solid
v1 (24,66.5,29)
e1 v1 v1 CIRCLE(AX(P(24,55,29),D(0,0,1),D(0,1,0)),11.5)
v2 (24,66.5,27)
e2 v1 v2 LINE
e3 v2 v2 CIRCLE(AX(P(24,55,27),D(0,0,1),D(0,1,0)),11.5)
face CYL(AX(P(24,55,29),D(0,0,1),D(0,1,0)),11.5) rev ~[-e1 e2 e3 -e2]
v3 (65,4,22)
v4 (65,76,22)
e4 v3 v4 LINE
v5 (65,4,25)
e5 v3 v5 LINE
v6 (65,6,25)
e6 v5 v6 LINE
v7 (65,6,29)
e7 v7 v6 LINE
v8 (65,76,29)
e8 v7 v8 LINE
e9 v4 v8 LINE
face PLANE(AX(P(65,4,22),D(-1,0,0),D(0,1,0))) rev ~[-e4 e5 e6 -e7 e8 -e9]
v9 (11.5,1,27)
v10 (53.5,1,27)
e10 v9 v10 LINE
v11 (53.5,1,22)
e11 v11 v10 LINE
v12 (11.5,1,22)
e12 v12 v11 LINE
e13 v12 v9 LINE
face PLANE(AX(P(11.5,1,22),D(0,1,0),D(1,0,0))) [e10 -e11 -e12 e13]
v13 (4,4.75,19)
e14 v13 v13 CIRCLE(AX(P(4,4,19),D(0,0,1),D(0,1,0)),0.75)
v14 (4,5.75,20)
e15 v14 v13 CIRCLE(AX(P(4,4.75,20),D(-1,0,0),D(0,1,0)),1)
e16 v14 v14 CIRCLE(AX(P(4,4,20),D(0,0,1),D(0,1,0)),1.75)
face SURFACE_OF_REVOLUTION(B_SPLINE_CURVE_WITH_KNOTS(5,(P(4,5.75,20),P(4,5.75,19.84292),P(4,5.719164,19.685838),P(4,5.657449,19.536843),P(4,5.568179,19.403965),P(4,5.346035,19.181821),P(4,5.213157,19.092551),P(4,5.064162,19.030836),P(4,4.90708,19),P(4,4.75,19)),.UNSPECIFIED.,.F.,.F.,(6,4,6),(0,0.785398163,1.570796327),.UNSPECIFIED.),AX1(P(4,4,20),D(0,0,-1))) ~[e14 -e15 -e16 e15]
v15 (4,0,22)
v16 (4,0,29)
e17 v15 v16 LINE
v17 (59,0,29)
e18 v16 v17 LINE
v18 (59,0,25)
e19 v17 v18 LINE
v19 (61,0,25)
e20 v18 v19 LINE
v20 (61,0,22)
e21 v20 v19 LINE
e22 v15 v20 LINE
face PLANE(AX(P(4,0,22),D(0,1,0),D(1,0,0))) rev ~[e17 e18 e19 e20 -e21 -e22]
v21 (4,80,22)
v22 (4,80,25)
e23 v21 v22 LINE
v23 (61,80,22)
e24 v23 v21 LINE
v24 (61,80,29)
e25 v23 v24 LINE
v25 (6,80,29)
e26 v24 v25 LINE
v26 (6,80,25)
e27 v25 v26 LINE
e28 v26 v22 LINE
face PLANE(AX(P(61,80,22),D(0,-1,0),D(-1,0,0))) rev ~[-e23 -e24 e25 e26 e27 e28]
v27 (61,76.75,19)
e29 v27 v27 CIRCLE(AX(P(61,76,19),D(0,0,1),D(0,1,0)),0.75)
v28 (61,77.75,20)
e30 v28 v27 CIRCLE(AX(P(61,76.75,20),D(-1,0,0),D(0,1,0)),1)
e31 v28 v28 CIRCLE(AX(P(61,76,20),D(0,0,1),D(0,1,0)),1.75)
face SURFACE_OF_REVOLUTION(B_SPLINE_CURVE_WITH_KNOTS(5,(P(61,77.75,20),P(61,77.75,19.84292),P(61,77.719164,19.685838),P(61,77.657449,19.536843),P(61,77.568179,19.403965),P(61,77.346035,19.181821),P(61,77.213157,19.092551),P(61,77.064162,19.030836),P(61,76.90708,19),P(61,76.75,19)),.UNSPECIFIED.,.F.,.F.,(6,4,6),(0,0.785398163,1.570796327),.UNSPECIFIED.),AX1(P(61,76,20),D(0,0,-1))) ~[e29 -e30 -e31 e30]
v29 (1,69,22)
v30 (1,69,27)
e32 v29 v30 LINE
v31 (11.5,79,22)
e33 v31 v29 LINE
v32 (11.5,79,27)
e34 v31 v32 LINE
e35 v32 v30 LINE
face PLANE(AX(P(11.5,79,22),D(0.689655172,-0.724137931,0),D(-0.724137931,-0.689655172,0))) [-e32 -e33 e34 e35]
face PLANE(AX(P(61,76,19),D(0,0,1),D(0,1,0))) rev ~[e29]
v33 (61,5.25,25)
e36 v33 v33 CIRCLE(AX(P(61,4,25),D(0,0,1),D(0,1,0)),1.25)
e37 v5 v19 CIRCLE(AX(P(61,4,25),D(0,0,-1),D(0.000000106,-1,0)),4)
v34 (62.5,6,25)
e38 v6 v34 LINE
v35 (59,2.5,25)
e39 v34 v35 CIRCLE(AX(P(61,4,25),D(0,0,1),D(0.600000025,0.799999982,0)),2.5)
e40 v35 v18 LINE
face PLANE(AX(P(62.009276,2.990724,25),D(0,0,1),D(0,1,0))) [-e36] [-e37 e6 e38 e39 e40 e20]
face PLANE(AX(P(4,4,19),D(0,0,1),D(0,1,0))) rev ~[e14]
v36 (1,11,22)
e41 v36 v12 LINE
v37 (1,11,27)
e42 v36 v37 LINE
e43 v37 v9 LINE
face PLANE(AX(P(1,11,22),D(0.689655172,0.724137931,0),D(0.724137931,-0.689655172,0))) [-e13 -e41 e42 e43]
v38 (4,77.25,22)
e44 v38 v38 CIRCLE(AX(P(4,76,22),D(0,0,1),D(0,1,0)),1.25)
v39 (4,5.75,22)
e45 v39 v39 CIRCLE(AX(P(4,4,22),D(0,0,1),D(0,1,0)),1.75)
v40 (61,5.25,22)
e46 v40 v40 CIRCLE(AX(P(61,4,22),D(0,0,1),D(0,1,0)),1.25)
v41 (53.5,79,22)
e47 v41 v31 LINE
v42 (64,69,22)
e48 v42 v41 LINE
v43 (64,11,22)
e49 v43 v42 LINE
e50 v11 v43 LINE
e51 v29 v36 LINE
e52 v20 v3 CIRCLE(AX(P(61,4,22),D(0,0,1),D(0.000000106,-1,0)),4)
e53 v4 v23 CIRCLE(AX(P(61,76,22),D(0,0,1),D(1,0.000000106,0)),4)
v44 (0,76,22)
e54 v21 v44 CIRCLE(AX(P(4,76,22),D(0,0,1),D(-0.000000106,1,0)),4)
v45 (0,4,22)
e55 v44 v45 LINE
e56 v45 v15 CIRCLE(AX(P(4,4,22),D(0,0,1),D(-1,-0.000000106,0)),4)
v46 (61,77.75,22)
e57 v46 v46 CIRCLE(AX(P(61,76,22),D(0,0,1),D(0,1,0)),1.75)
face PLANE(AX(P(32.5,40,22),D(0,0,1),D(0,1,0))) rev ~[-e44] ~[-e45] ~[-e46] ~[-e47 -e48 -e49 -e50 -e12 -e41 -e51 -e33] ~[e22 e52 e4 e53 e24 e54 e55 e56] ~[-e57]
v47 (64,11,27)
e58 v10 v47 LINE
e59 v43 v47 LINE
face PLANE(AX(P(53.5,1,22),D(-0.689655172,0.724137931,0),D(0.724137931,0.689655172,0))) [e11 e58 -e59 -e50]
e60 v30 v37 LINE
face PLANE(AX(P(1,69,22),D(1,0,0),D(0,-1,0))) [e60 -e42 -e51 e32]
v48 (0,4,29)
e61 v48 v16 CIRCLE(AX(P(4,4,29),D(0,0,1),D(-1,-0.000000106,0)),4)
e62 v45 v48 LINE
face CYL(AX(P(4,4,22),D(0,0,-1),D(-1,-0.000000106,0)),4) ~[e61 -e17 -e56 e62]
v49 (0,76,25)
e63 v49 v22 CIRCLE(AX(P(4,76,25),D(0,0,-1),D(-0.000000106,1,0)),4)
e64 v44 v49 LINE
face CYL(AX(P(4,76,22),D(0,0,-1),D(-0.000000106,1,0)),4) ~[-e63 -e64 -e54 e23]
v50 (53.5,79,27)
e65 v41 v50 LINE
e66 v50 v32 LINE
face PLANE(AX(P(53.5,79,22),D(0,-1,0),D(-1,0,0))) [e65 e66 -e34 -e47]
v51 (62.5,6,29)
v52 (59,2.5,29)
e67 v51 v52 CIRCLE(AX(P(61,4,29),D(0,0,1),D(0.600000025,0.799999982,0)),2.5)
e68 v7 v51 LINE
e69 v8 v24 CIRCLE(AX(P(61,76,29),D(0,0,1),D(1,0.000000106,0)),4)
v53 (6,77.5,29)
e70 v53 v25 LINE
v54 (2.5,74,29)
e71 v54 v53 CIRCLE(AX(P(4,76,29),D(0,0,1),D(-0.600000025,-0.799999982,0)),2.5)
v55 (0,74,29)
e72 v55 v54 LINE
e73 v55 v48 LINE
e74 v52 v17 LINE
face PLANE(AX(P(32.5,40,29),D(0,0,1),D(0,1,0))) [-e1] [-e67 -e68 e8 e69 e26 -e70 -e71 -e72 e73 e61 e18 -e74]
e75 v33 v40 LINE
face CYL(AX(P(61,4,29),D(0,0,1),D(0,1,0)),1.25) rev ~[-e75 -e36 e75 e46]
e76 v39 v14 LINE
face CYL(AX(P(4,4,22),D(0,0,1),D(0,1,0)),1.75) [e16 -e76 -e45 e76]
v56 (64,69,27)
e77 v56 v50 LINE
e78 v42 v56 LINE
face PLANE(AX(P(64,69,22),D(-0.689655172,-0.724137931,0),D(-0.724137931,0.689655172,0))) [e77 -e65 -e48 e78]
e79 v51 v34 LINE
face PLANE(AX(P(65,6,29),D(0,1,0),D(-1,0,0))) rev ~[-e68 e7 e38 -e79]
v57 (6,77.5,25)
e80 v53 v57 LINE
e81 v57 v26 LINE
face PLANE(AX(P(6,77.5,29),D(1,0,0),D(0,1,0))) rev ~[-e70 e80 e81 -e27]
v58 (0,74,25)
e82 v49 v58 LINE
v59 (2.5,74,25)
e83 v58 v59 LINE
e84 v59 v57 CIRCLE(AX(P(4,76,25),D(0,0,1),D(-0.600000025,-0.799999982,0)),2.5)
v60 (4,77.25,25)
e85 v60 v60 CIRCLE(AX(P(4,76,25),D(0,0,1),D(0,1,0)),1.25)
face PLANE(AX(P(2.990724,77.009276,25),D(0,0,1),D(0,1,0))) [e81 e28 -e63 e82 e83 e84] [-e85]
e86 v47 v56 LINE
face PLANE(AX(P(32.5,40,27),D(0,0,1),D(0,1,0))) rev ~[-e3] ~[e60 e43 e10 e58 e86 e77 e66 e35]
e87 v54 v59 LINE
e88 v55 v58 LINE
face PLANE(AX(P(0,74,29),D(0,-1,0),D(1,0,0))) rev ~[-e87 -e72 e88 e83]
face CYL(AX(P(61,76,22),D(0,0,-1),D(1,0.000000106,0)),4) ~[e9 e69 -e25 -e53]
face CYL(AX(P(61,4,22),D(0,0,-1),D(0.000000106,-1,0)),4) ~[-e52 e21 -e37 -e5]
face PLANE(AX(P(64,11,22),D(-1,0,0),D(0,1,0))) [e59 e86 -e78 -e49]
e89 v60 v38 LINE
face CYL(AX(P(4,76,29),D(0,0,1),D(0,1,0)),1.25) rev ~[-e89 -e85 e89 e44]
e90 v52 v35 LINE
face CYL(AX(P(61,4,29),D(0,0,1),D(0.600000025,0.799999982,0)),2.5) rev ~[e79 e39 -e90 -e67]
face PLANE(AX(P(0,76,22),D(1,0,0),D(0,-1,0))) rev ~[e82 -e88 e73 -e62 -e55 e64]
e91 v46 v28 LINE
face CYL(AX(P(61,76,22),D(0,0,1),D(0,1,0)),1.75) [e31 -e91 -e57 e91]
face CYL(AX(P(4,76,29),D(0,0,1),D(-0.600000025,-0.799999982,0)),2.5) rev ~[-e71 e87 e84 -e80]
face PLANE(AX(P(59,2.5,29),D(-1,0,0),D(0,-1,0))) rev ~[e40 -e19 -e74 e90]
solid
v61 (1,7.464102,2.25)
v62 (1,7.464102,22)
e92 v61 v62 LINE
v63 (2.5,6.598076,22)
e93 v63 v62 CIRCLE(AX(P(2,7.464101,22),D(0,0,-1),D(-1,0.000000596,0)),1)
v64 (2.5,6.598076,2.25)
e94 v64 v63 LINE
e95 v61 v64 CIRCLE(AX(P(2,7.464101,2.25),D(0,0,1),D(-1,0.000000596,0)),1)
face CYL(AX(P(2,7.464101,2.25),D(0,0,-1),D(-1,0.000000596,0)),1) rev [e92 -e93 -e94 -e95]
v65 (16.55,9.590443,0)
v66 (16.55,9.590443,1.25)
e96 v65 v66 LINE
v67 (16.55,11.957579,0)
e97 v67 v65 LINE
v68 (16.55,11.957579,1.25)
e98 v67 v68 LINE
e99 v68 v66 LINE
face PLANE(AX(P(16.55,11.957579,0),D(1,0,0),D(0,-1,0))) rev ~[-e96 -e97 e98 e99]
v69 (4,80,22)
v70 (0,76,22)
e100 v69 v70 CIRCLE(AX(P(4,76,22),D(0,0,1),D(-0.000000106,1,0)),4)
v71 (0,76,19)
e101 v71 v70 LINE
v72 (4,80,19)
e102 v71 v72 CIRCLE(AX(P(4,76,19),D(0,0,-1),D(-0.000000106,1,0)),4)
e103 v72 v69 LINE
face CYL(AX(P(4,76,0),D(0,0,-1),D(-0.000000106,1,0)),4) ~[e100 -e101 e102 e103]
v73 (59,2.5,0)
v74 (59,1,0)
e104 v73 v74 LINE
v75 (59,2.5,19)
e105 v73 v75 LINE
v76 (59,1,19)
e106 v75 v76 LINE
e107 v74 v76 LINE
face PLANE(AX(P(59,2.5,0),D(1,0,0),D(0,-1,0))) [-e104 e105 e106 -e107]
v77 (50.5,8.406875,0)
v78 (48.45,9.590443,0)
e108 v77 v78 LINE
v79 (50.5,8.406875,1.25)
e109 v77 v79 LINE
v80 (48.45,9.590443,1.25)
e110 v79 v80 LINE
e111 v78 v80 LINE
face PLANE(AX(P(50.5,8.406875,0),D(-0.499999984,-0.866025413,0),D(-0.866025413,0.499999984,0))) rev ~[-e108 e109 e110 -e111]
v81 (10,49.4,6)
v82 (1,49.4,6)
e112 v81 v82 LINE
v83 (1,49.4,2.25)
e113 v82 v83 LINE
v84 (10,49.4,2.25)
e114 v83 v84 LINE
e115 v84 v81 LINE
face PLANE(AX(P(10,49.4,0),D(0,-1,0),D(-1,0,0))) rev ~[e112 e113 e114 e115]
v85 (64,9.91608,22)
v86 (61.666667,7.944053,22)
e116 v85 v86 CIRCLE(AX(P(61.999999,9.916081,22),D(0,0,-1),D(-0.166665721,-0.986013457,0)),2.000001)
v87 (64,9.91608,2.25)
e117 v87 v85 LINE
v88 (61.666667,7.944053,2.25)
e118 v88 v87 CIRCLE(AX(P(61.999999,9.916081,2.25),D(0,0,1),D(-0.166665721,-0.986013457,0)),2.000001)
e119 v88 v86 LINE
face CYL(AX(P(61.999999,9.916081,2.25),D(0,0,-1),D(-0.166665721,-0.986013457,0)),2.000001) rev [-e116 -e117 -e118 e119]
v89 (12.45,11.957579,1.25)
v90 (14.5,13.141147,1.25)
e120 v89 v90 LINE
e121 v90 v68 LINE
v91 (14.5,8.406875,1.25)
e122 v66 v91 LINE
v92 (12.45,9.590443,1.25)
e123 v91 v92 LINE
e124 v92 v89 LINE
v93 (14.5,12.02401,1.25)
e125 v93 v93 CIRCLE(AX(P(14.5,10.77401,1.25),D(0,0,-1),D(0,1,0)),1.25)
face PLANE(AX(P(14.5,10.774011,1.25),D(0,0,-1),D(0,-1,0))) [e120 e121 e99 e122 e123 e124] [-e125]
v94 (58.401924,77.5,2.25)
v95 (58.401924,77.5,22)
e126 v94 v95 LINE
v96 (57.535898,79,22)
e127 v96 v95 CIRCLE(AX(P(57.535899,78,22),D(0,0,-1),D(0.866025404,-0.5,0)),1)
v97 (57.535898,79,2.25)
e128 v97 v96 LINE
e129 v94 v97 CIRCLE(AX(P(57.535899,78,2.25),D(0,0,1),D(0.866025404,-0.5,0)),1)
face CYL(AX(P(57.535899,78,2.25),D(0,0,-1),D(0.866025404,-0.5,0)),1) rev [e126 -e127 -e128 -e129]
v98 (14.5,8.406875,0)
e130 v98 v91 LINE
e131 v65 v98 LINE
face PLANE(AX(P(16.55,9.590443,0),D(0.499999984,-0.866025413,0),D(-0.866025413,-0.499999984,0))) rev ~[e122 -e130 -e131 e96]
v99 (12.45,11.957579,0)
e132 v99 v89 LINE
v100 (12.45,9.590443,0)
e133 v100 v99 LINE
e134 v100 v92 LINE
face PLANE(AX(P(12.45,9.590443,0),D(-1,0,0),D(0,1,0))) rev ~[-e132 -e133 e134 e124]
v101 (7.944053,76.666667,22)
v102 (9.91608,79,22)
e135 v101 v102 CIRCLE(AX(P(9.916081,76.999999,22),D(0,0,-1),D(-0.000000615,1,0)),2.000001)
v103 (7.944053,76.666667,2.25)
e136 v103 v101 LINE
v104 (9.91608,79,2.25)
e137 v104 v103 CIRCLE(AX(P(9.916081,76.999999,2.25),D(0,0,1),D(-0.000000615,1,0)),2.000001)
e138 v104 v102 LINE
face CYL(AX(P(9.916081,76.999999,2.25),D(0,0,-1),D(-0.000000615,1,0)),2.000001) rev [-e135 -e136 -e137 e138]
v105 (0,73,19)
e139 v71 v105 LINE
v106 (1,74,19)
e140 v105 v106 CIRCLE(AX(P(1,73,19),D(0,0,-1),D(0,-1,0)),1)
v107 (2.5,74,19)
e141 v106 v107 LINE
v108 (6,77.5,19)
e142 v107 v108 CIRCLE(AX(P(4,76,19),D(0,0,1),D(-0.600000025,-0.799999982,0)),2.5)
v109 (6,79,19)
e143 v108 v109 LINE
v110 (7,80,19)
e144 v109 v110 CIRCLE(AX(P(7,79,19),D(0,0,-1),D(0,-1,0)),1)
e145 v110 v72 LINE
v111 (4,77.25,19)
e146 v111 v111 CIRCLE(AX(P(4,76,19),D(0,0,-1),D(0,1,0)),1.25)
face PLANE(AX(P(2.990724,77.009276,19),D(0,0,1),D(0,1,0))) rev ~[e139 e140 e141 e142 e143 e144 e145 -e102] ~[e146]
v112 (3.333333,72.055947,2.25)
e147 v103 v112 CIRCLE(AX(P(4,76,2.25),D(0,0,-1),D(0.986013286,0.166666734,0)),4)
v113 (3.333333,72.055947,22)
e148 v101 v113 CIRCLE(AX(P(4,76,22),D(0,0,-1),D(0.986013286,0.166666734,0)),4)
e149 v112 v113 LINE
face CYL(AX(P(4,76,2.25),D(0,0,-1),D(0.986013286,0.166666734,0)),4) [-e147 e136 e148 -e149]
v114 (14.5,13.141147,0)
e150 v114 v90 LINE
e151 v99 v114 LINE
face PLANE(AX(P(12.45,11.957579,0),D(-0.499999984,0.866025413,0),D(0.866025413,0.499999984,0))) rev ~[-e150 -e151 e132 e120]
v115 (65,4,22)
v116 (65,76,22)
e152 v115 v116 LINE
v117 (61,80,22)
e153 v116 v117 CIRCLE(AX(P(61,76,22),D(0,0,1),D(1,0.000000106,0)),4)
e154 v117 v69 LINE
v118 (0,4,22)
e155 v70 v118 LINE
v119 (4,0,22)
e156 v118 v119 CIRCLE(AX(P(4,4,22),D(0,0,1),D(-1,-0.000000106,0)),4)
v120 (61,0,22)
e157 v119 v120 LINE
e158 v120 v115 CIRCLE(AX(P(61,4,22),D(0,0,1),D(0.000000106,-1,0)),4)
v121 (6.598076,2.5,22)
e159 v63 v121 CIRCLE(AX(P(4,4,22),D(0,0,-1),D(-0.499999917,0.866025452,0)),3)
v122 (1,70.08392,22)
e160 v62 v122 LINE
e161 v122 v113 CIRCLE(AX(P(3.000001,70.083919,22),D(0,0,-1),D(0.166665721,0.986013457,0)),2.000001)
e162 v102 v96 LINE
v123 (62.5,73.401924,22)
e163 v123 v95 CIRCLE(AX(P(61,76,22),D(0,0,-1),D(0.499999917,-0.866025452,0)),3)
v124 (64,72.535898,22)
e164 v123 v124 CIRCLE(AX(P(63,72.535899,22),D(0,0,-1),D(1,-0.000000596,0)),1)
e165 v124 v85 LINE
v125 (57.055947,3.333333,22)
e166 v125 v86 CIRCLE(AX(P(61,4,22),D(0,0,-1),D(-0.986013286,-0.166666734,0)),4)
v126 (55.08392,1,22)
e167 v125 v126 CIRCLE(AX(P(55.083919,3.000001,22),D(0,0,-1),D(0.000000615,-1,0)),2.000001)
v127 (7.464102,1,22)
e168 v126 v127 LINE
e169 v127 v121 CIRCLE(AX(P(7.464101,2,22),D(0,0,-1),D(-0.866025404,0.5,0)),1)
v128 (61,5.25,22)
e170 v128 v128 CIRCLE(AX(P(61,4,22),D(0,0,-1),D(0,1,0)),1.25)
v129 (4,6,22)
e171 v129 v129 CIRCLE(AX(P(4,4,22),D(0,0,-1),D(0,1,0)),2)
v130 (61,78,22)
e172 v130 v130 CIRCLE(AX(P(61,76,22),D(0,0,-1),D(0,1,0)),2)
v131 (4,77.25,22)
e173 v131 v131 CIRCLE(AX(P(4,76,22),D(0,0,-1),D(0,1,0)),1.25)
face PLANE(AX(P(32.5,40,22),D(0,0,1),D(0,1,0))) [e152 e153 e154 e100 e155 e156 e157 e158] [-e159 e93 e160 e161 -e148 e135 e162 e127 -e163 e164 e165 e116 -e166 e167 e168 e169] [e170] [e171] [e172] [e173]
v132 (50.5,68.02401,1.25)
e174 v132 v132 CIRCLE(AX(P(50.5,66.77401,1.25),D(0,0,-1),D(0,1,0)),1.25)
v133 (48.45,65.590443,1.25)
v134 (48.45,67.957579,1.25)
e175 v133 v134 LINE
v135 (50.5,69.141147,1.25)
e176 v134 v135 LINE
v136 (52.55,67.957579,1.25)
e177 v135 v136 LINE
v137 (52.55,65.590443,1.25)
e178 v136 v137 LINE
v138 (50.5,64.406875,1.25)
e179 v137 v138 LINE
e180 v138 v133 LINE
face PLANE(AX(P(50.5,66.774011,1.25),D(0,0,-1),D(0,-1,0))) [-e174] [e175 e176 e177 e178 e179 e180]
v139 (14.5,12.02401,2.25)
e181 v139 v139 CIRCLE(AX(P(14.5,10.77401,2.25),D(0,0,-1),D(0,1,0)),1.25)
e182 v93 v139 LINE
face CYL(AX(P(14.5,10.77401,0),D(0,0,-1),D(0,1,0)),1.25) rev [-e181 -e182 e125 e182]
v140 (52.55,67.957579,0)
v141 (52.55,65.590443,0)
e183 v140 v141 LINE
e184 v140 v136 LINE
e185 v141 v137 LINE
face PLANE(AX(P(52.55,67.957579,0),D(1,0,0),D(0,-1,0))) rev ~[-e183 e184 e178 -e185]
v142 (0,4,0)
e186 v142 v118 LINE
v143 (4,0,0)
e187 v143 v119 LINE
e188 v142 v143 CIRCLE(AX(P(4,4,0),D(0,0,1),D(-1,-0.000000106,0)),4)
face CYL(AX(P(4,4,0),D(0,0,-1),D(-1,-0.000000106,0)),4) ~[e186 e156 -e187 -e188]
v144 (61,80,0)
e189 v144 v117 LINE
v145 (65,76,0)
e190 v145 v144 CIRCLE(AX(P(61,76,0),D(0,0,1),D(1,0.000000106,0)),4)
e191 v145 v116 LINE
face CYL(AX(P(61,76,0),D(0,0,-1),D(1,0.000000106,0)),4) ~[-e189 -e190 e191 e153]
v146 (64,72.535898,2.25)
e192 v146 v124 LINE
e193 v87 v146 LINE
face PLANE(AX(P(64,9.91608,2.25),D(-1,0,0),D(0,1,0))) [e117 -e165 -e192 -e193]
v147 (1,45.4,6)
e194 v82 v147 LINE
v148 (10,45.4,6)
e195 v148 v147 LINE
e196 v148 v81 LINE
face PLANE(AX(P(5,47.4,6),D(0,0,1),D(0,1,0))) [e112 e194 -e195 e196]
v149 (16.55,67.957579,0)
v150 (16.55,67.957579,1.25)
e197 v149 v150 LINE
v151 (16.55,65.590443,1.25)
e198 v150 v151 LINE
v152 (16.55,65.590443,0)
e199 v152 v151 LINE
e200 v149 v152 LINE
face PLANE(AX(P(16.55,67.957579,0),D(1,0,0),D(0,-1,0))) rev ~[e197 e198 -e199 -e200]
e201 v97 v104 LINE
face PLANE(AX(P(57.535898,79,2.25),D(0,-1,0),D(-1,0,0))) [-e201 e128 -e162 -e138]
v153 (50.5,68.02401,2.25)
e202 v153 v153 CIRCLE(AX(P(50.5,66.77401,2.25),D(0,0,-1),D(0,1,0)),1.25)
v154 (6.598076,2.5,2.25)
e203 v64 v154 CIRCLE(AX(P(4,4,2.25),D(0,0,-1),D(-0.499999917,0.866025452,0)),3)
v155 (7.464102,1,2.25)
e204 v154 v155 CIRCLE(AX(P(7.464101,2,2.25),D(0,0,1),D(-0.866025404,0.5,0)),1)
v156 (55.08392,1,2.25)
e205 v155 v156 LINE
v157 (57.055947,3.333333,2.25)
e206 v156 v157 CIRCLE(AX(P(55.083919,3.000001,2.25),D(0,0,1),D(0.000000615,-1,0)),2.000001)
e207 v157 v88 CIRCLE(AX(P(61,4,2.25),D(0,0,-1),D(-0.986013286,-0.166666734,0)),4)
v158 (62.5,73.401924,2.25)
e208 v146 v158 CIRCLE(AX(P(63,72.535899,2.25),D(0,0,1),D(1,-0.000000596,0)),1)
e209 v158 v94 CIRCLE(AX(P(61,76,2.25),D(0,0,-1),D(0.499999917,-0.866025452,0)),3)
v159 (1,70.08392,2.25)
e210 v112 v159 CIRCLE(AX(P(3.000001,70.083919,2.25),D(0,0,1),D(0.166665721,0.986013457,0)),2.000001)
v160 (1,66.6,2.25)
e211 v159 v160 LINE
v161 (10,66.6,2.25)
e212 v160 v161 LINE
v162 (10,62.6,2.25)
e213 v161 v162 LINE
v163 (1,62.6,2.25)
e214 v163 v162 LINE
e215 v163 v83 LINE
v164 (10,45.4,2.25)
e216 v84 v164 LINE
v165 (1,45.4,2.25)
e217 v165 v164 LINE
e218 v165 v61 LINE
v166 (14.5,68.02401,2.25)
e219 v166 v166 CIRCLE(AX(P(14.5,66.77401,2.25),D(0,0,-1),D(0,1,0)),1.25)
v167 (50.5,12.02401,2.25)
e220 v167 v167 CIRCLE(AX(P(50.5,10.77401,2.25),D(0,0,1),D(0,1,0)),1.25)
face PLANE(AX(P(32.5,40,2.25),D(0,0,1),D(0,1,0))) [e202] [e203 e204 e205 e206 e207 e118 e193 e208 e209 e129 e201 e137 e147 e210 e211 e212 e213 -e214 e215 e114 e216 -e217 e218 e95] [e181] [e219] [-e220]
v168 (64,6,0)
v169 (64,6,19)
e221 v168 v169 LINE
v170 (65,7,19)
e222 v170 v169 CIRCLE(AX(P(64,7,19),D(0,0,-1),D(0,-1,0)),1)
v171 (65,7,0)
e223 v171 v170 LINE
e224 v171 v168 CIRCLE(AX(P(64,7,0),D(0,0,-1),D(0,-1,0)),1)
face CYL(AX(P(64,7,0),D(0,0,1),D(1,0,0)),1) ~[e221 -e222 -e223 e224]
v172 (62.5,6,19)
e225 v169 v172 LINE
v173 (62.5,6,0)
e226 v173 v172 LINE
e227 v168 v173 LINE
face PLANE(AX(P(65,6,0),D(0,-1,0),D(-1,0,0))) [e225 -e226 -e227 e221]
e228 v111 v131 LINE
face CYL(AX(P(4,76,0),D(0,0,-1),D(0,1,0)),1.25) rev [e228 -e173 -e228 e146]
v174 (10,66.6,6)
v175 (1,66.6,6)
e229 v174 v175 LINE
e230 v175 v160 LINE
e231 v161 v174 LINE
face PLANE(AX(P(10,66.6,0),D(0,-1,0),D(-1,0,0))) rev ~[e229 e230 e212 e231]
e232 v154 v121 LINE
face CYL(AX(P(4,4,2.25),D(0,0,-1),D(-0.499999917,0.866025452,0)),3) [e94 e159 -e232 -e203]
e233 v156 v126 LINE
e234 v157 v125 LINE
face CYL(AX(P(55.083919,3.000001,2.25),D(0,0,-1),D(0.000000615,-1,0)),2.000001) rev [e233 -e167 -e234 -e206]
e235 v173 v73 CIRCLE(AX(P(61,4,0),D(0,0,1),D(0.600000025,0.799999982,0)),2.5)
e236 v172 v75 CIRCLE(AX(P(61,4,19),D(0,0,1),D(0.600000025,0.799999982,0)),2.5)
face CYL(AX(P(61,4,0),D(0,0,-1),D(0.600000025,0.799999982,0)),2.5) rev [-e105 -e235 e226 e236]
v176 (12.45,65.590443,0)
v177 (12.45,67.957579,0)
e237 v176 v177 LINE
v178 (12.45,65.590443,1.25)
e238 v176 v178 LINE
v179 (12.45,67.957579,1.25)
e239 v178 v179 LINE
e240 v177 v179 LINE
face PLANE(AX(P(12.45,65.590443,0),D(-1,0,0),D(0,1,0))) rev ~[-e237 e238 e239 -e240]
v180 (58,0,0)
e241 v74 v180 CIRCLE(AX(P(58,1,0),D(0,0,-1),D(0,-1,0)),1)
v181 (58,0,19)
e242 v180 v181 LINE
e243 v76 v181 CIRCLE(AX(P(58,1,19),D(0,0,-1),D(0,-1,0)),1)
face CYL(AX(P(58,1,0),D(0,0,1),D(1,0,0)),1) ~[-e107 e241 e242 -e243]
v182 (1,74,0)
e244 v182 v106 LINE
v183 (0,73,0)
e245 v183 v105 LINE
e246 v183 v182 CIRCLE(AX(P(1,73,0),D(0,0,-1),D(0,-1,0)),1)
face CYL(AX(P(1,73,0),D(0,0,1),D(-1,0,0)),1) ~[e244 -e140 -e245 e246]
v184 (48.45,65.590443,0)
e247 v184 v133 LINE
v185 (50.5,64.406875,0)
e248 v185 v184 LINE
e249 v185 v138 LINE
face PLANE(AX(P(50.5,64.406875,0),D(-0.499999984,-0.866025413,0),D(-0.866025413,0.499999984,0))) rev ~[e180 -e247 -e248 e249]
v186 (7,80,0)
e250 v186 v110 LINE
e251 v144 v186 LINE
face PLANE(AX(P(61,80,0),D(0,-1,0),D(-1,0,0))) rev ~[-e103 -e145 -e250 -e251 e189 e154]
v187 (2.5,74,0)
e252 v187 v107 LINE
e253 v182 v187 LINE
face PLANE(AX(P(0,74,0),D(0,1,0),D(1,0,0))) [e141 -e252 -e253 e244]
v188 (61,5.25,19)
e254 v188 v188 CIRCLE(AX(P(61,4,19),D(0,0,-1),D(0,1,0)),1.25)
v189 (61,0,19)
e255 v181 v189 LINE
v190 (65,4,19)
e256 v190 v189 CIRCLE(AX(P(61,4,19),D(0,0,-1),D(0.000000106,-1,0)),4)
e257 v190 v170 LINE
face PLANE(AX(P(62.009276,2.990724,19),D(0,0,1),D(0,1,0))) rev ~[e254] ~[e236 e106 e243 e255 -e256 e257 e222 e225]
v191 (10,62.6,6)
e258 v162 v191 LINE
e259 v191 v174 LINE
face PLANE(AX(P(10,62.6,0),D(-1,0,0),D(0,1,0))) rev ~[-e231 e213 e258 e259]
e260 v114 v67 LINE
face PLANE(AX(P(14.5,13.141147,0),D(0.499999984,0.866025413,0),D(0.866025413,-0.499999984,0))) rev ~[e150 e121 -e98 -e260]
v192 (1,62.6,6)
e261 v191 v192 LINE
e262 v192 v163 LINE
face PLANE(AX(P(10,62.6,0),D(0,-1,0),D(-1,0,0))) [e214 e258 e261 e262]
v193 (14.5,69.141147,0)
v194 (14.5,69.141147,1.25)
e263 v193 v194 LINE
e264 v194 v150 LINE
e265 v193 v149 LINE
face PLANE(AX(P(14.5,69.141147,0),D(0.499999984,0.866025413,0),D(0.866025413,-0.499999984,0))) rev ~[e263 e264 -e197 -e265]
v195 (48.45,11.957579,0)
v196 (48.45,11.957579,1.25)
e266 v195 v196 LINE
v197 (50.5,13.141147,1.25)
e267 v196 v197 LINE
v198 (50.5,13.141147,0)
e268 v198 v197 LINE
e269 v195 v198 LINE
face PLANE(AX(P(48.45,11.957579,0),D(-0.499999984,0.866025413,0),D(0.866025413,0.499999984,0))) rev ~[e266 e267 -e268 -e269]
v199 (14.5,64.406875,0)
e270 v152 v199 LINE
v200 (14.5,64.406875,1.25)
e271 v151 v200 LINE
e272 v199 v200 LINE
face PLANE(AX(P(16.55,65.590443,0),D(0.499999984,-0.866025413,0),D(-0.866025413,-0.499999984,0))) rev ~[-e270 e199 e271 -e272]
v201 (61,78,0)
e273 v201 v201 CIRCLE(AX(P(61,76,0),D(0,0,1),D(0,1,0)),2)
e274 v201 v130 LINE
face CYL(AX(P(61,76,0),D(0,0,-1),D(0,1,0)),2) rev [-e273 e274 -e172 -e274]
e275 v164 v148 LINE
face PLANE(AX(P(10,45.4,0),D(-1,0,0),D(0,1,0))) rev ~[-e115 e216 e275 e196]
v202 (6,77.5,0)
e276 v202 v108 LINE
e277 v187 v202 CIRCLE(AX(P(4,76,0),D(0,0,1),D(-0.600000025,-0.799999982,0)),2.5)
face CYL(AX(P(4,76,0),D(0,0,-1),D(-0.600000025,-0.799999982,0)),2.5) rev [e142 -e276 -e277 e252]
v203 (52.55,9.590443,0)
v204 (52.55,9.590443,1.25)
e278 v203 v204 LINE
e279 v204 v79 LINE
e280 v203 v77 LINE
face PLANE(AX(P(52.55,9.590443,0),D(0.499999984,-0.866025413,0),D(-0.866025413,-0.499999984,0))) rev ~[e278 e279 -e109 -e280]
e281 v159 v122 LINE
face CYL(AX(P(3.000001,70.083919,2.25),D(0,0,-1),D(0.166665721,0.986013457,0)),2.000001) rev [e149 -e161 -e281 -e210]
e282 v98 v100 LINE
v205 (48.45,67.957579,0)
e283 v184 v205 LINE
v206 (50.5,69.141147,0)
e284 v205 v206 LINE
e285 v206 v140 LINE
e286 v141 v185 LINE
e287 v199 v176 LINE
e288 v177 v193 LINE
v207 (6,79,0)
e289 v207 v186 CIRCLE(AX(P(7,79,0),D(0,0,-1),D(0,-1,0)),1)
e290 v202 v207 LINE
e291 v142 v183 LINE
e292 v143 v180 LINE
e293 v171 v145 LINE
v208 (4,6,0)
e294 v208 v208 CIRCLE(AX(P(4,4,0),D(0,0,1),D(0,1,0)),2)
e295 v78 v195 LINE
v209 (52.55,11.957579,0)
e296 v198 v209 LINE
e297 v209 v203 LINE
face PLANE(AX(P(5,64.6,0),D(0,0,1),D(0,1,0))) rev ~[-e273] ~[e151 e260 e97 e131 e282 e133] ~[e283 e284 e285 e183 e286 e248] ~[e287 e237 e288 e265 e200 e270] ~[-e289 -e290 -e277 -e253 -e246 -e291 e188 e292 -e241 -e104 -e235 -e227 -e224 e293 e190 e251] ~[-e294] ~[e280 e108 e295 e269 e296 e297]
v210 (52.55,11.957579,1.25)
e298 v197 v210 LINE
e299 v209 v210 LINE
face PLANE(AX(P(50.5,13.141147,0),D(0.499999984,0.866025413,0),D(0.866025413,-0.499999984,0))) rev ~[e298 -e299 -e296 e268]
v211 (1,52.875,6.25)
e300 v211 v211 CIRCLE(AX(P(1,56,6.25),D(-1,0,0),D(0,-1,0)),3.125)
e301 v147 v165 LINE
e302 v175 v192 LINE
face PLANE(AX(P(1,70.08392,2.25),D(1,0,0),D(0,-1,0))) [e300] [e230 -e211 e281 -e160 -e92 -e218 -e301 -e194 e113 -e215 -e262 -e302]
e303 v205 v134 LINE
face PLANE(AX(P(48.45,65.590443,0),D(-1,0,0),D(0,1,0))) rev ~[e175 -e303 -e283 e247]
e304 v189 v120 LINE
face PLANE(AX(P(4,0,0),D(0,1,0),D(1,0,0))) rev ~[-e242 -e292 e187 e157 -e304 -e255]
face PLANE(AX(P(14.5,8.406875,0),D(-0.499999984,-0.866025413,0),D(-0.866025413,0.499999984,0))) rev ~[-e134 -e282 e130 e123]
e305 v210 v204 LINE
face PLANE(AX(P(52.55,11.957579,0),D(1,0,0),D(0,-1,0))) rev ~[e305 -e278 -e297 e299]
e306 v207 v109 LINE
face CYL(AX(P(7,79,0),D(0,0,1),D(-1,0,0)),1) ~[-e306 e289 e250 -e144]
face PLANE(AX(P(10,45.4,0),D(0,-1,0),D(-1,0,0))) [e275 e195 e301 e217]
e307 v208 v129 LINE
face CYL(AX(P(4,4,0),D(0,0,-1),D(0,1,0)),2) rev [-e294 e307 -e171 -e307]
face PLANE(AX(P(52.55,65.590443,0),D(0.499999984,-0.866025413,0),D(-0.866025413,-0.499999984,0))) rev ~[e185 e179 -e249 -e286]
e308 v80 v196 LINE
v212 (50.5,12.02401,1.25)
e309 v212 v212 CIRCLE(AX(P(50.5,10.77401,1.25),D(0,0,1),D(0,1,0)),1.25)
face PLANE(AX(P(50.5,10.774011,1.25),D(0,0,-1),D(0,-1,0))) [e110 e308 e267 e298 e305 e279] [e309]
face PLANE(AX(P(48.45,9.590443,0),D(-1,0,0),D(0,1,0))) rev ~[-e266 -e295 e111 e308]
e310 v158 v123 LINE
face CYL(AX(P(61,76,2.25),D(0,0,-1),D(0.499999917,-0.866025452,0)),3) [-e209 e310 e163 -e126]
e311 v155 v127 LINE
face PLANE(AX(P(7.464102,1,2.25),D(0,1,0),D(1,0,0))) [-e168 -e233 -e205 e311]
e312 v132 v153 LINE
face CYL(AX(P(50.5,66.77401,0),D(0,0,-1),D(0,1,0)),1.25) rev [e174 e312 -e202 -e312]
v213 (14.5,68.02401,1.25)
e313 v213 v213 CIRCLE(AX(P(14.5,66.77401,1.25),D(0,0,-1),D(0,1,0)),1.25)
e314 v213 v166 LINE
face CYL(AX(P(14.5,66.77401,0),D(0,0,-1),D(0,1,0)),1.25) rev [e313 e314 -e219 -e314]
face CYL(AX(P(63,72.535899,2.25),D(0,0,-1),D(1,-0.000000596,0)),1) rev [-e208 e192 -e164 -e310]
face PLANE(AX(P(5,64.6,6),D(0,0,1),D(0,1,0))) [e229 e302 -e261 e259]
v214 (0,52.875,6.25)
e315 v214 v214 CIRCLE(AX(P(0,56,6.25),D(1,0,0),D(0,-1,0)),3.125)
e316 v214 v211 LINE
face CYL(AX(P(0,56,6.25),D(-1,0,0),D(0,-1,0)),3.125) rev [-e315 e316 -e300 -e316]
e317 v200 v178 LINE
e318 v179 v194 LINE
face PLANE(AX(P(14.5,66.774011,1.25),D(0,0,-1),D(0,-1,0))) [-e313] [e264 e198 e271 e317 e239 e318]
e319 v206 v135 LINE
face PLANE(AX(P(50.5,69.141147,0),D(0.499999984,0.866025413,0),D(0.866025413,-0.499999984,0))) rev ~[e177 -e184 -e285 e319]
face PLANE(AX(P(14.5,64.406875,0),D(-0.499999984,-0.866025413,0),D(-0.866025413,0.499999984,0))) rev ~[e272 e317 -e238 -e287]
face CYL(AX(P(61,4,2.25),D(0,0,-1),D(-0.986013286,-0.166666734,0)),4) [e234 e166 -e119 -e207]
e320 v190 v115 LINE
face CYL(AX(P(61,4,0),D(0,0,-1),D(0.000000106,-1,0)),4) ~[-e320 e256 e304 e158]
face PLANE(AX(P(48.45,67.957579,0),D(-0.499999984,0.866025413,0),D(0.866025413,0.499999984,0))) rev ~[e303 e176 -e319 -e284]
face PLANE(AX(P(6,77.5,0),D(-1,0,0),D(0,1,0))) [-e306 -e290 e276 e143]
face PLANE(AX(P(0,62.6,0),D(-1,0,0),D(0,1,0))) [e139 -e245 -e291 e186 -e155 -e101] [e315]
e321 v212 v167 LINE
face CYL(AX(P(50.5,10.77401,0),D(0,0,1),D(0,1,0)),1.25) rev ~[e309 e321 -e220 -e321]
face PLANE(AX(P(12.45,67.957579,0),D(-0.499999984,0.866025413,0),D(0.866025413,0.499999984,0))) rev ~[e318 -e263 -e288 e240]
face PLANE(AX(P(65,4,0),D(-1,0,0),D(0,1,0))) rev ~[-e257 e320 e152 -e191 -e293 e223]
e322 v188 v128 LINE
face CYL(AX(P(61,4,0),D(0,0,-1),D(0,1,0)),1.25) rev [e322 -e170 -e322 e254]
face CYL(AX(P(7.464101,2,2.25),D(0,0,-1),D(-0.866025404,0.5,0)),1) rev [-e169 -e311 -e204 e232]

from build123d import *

# Parameters (mm, degrees)
PAD_DEPTH          = 22
POCKET_DEPTH       = 19.751
SHAPEBINDER002_R   = 1.25
POCKET001_DEPTH    = 2.5
SHAPEBINDER003_R   = 1.25
SHAPEBINDER003_R_2 = 2
POCKET002_DEPTH    = 22.001
POCKET003_DEPTH    = 1.25
SHAPEBINDER005_R   = 3.125
POCKET004_DEPTH    = 5
SHAPEBINDER006_W   = 4
SHAPEBINDER006_H   = 10
PAD001_DEPTH       = 6
POCKET005_DEPTH    = 19
FILLET_R           = 1
PAD002_DEPTH       = 7
SHAPEBINDER009_R   = 1.75
PAD003_DEPTH       = 3
FILLET001_R        = 1
POCKET006_DEPTH    = 5
POCKET007_DEPTH    = 4
SHAPEBINDER012_R   = 11.5
POCKET008_DEPTH    = 5
SHAPEBINDER013_R   = 1.25
POCKET009_DEPTH    = 10.001


with BuildPart() as bottom_part:
    # ShapeBinder → Pad (new body)
    with BuildSketch(Plane(origin=(32.5, 40, 0), x_dir=(0, 1, 0), z_dir=(0, 0, 1))):
        with BuildLine():
            Line((-40, 28.5), (-40, -28.5))
            ThreePointArc((-40, -28.5), (-38.828427, -31.328427), (-36, -32.5))
            Line((-36, -32.5), (36, -32.5))
            ThreePointArc((36, -32.5), (38.828427, -31.328427), (40, -28.5))
            Line((40, -28.5), (40, 28.5))
            ThreePointArc((40, 28.5), (38.828427, 31.328427), (36, 32.5))
            Line((36, 32.5), (-36, 32.5))
            ThreePointArc((-36, 32.5), (-38.828427, 31.328427), (-40, 28.5))
        make_face()
    extrude(amount=PAD_DEPTH)

    # ShapeBinder001 → Pocket (cut, through all)
    with BuildSketch(Plane(origin=(32.5, 40, 2.25), x_dir=(0, 1, 0), z_dir=(0, 0, 1))):
        with BuildLine():
            ThreePointArc((32.055947, 29.166667), (31.611445, 30.790994), (30.08392, 31.5))
            Line((30.08392, 31.5), (-32.535898, 31.5))
            ThreePointArc((-32.535898, 31.5), (-33.401924, 31), (-33.401924, 30))
            ThreePointArc((-33.401924, 30), (-33.87868, 26.37868), (-37.5, 25.901924))
            ThreePointArc((-37.5, 25.901924), (-38.5, 25.901924), (-39, 25.035898))
            Line((-39, 25.035898), (-39, -22.58392))
            ThreePointArc((-39, -22.58392), (-38.290994, -24.111445), (-36.666667, -24.555947))
            ThreePointArc((-36.666667, -24.555947), (-33.171573, -25.671573), (-32.055947, -29.166667))
            ThreePointArc((-32.055947, -29.166667), (-31.611445, -30.790994), (-30.08392, -31.5))
            Line((-30.08392, -31.5), (32.535898, -31.5))
            ThreePointArc((32.535898, -31.5), (33.401924, -31), (33.401924, -30))
            ThreePointArc((33.401924, -30), (33.87868, -26.37868), (37.5, -25.901924))
            ThreePointArc((37.5, -25.901924), (38.5, -25.901924), (39, -25.035898))
            Line((39, -25.035898), (39, 22.58392))
            ThreePointArc((39, 22.58392), (38.290994, 24.111445), (36.666667, 24.555947))
            ThreePointArc((36.666667, 24.555947), (33.171573, 25.671573), (32.055947, 29.166667))
        make_face()
    extrude(amount=POCKET_DEPTH, mode=Mode.SUBTRACT)

    # ShapeBinder002 → Pocket001 (cut, symmetric)
    with BuildSketch(Plane(origin=(32.5, 44.762005, 0), x_dir=(0, 1, 0), z_dir=(0, 0, 1))):
        with Locations((22.012005, 18)):
            Circle(SHAPEBINDER002_R)
        with Locations((22.012005, -18)):
            Circle(SHAPEBINDER002_R)
        with Locations((-33.987995, 18)):
            Circle(SHAPEBINDER002_R)
        with Locations((-33.987995, -18)):
            Circle(SHAPEBINDER002_R)
    extrude(amount=POCKET001_DEPTH, both=True, mode=Mode.SUBTRACT)

    # ShapeBinder003 → Pocket002 (cut, through all)
    with BuildSketch(Plane(origin=(32.5, 40, 0), x_dir=(0, 1, 0), z_dir=(0, 0, 1))):
        with Locations((36, 28.5)):
            Circle(SHAPEBINDER003_R)
        with Locations((36, -28.5)):
            Circle(SHAPEBINDER003_R_2)
        with Locations((-36, 28.5)):
            Circle(SHAPEBINDER003_R_2)
        with Locations((-36, -28.5)):
            Circle(SHAPEBINDER003_R)
    extrude(amount=POCKET002_DEPTH, mode=Mode.SUBTRACT)

    # ShapeBinder004 → Pocket003 (cut)
    with BuildSketch(Plane(origin=(32.5, 40, 0), x_dir=(0, 1, 0), z_dir=(0, 0, 1))):
        Polygon((34.816432, 30.55), (37.183568, 30.55), (38.367136, 28.5), (37.183568, 26.45), (34.816432, 26.45), (33.632864, 28.5), align=None)
        Polygon((25.590443, 20.05), (27.957579, 20.05), (29.141147, 18), (27.957579, 15.95), (25.590443, 15.95), (24.406875, 18), align=None)
        Polygon((25.590443, -15.95), (27.957579, -15.95), (29.141147, -18), (27.957579, -20.05), (25.590443, -20.05), (24.406875, -18), align=None)
        Polygon((-30.409557, 20.05), (-28.042421, 20.05), (-26.858853, 18), (-28.042421, 15.95), (-30.409557, 15.95), (-31.593125, 18), align=None)
        Polygon((-30.409557, -15.95), (-28.042421, -15.95), (-26.858853, -18), (-28.042421, -20.05), (-30.409557, -20.05), (-31.593125, -18), align=None)
        Polygon((-37.183568, -26.45), (-34.816432, -26.45), (-33.632864, -28.5), (-34.816432, -30.55), (-37.183568, -30.55), (-38.367136, -28.5), align=None)
    extrude(amount=POCKET003_DEPTH, mode=Mode.SUBTRACT)

    # ShapeBinder005 → Pocket004 (cut)
    with BuildSketch(Plane(origin=(0, 56, 6.25), x_dir=(0, -1, 0), z_dir=(1, 0, 0))):
        Circle(SHAPEBINDER005_R)
    extrude(amount=POCKET004_DEPTH, mode=Mode.SUBTRACT)

    # ShapeBinder006 → Pad001 (join)
    with BuildSketch(Plane(origin=(5, 56, 0), x_dir=(0, 1, 0), z_dir=(0, 0, 1))):
        with Locations((8.6, 0)):
            Rectangle(SHAPEBINDER006_W, SHAPEBINDER006_H)
        with Locations((-8.6, 0)):
            Rectangle(SHAPEBINDER006_W, SHAPEBINDER006_H)
    extrude(amount=PAD001_DEPTH)

    # ShapeBinder007 → Pocket005 (cut)
    with BuildSketch(Plane(origin=(32.5, 40, 0), x_dir=(0, 1, 0), z_dir=(0, 0, 1))):
        with BuildLine():
            ThreePointArc((-34, -30), (-34.232233, -26.732233), (-37.5, -26.5))
            Line((-37.5, -26.5), (-40, -26.5))
            Line((-40, -26.5), (-40, -32.5))
            Line((-40, -32.5), (-34, -32.5))
            Line((-34, -32.5), (-34, -30))
        make_face()
        with BuildLine():
            ThreePointArc((34, 30), (34.232233, 26.732233), (37.5, 26.5))
            Line((37.5, 26.5), (40, 26.5))
            Line((40, 26.5), (40, 32.5))
            Line((40, 32.5), (34, 32.5))
            Line((34, 32.5), (34, 30))
        make_face()
    extrude(amount=POCKET005_DEPTH, mode=Mode.SUBTRACT)

    # Fillet
    fillet_edges = [bottom_part.edges().sort_by_distance(p)[0] for p in [
        (59, 0, 9.5),
        (65, 6, 9.5),
        (6, 80, 9.5),
        (0, 74, 9.5),
    ]]
    fillet(fillet_edges, radius=FILLET_R)


with BuildPart() as cover:
    # ShapeBinder008 → Pad002 (new body)
    with BuildSketch(Plane(origin=(32.5, 40, 22), x_dir=(0, 1, 0), z_dir=(0, 0, 1))):
        with BuildLine():
            Line((-40, 28.5), (-40, -28.5))
            ThreePointArc((-40, -28.5), (-38.828427, -31.328427), (-36, -32.5))
            Line((-36, -32.5), (36, -32.5))
            ThreePointArc((36, -32.5), (38.828427, -31.328427), (40, -28.5))
            Line((40, -28.5), (40, 28.5))
            ThreePointArc((40, 28.5), (38.828427, 31.328427), (36, 32.5))
            Line((36, 32.5), (-36, 32.5))
            ThreePointArc((-36, 32.5), (-38.828427, 31.328427), (-40, 28.5))
        make_face()
    extrude(amount=PAD002_DEPTH)

    # ShapeBinder009 → Pad003 (join)
    with BuildSketch(Plane(origin=(32.5, 40, 22), x_dir=(0, 1, 0), z_dir=(0, 0, 1))):
        with Locations((36, -28.5)):
            Circle(SHAPEBINDER009_R)
        with Locations((-36, 28.5)):
            Circle(SHAPEBINDER009_R)
    extrude(amount=-PAD003_DEPTH)

    # Fillet001
    fillet001_edges = [cover.edges().sort_by_distance(p)[0] for p in [
        (2.25, 4, 19),
        (59.25, 76, 19),
    ]]
    fillet(fillet001_edges, radius=FILLET001_R)

    # ShapeBinder010 → Pocket006 (cut)
    with BuildSketch(Plane(origin=(32.5, 40, 22), x_dir=(0, 1, 0), z_dir=(0, 0, 1))):
        Polygon((-39, 21), (-39, -21), (-29, -31.5), (29, -31.5), (39, -21), (39, 21), (29, 31.5), (-29, 31.5), align=None)
    extrude(amount=POCKET006_DEPTH, mode=Mode.SUBTRACT)

    # ShapeBinder011 → Pocket007 (cut)
    with BuildSketch(Plane(origin=(32.5, 40, 29), x_dir=(0, 1, 0), z_dir=(0, 0, 1))):
        with BuildLine():
            ThreePointArc((-34, -30), (-34.232233, -26.732233), (-37.5, -26.5))
            Line((-37.5, -26.5), (-40, -26.5))
            Line((-40, -26.5), (-40, -32.5))
            Line((-40, -32.5), (-34, -32.5))
            Line((-34, -32.5), (-34, -30))
        make_face()
        with BuildLine():
            ThreePointArc((34, 30), (34.232233, 26.732233), (37.5, 26.5))
            Line((37.5, 26.5), (40, 26.5))
            Line((40, 26.5), (40, 32.5))
            Line((40, 32.5), (34, 32.5))
            Line((34, 32.5), (34, 30))
        make_face()
    extrude(amount=-POCKET007_DEPTH, mode=Mode.SUBTRACT)

    # ShapeBinder012 → Pocket008 (cut)
    with BuildSketch(Plane(origin=(24, 55, 29), x_dir=(0, 1, 0), z_dir=(0, 0, 1))):
        Circle(SHAPEBINDER012_R)
    extrude(amount=-POCKET008_DEPTH, mode=Mode.SUBTRACT)

    # ShapeBinder013 → Pocket009 (cut, through all)
    with BuildSketch(Plane(origin=(32.5, 40, 29), x_dir=(0, 1, 0), z_dir=(0, 0, 1))):
        with Locations((-36, -28.5)):
            Circle(SHAPEBINDER013_R)
        with Locations((36, 28.5)):
            Circle(SHAPEBINDER013_R)
    extrude(amount=-POCKET009_DEPTH, mode=Mode.SUBTRACT)


solid = Compound([bottom_part.part, cover.part])
